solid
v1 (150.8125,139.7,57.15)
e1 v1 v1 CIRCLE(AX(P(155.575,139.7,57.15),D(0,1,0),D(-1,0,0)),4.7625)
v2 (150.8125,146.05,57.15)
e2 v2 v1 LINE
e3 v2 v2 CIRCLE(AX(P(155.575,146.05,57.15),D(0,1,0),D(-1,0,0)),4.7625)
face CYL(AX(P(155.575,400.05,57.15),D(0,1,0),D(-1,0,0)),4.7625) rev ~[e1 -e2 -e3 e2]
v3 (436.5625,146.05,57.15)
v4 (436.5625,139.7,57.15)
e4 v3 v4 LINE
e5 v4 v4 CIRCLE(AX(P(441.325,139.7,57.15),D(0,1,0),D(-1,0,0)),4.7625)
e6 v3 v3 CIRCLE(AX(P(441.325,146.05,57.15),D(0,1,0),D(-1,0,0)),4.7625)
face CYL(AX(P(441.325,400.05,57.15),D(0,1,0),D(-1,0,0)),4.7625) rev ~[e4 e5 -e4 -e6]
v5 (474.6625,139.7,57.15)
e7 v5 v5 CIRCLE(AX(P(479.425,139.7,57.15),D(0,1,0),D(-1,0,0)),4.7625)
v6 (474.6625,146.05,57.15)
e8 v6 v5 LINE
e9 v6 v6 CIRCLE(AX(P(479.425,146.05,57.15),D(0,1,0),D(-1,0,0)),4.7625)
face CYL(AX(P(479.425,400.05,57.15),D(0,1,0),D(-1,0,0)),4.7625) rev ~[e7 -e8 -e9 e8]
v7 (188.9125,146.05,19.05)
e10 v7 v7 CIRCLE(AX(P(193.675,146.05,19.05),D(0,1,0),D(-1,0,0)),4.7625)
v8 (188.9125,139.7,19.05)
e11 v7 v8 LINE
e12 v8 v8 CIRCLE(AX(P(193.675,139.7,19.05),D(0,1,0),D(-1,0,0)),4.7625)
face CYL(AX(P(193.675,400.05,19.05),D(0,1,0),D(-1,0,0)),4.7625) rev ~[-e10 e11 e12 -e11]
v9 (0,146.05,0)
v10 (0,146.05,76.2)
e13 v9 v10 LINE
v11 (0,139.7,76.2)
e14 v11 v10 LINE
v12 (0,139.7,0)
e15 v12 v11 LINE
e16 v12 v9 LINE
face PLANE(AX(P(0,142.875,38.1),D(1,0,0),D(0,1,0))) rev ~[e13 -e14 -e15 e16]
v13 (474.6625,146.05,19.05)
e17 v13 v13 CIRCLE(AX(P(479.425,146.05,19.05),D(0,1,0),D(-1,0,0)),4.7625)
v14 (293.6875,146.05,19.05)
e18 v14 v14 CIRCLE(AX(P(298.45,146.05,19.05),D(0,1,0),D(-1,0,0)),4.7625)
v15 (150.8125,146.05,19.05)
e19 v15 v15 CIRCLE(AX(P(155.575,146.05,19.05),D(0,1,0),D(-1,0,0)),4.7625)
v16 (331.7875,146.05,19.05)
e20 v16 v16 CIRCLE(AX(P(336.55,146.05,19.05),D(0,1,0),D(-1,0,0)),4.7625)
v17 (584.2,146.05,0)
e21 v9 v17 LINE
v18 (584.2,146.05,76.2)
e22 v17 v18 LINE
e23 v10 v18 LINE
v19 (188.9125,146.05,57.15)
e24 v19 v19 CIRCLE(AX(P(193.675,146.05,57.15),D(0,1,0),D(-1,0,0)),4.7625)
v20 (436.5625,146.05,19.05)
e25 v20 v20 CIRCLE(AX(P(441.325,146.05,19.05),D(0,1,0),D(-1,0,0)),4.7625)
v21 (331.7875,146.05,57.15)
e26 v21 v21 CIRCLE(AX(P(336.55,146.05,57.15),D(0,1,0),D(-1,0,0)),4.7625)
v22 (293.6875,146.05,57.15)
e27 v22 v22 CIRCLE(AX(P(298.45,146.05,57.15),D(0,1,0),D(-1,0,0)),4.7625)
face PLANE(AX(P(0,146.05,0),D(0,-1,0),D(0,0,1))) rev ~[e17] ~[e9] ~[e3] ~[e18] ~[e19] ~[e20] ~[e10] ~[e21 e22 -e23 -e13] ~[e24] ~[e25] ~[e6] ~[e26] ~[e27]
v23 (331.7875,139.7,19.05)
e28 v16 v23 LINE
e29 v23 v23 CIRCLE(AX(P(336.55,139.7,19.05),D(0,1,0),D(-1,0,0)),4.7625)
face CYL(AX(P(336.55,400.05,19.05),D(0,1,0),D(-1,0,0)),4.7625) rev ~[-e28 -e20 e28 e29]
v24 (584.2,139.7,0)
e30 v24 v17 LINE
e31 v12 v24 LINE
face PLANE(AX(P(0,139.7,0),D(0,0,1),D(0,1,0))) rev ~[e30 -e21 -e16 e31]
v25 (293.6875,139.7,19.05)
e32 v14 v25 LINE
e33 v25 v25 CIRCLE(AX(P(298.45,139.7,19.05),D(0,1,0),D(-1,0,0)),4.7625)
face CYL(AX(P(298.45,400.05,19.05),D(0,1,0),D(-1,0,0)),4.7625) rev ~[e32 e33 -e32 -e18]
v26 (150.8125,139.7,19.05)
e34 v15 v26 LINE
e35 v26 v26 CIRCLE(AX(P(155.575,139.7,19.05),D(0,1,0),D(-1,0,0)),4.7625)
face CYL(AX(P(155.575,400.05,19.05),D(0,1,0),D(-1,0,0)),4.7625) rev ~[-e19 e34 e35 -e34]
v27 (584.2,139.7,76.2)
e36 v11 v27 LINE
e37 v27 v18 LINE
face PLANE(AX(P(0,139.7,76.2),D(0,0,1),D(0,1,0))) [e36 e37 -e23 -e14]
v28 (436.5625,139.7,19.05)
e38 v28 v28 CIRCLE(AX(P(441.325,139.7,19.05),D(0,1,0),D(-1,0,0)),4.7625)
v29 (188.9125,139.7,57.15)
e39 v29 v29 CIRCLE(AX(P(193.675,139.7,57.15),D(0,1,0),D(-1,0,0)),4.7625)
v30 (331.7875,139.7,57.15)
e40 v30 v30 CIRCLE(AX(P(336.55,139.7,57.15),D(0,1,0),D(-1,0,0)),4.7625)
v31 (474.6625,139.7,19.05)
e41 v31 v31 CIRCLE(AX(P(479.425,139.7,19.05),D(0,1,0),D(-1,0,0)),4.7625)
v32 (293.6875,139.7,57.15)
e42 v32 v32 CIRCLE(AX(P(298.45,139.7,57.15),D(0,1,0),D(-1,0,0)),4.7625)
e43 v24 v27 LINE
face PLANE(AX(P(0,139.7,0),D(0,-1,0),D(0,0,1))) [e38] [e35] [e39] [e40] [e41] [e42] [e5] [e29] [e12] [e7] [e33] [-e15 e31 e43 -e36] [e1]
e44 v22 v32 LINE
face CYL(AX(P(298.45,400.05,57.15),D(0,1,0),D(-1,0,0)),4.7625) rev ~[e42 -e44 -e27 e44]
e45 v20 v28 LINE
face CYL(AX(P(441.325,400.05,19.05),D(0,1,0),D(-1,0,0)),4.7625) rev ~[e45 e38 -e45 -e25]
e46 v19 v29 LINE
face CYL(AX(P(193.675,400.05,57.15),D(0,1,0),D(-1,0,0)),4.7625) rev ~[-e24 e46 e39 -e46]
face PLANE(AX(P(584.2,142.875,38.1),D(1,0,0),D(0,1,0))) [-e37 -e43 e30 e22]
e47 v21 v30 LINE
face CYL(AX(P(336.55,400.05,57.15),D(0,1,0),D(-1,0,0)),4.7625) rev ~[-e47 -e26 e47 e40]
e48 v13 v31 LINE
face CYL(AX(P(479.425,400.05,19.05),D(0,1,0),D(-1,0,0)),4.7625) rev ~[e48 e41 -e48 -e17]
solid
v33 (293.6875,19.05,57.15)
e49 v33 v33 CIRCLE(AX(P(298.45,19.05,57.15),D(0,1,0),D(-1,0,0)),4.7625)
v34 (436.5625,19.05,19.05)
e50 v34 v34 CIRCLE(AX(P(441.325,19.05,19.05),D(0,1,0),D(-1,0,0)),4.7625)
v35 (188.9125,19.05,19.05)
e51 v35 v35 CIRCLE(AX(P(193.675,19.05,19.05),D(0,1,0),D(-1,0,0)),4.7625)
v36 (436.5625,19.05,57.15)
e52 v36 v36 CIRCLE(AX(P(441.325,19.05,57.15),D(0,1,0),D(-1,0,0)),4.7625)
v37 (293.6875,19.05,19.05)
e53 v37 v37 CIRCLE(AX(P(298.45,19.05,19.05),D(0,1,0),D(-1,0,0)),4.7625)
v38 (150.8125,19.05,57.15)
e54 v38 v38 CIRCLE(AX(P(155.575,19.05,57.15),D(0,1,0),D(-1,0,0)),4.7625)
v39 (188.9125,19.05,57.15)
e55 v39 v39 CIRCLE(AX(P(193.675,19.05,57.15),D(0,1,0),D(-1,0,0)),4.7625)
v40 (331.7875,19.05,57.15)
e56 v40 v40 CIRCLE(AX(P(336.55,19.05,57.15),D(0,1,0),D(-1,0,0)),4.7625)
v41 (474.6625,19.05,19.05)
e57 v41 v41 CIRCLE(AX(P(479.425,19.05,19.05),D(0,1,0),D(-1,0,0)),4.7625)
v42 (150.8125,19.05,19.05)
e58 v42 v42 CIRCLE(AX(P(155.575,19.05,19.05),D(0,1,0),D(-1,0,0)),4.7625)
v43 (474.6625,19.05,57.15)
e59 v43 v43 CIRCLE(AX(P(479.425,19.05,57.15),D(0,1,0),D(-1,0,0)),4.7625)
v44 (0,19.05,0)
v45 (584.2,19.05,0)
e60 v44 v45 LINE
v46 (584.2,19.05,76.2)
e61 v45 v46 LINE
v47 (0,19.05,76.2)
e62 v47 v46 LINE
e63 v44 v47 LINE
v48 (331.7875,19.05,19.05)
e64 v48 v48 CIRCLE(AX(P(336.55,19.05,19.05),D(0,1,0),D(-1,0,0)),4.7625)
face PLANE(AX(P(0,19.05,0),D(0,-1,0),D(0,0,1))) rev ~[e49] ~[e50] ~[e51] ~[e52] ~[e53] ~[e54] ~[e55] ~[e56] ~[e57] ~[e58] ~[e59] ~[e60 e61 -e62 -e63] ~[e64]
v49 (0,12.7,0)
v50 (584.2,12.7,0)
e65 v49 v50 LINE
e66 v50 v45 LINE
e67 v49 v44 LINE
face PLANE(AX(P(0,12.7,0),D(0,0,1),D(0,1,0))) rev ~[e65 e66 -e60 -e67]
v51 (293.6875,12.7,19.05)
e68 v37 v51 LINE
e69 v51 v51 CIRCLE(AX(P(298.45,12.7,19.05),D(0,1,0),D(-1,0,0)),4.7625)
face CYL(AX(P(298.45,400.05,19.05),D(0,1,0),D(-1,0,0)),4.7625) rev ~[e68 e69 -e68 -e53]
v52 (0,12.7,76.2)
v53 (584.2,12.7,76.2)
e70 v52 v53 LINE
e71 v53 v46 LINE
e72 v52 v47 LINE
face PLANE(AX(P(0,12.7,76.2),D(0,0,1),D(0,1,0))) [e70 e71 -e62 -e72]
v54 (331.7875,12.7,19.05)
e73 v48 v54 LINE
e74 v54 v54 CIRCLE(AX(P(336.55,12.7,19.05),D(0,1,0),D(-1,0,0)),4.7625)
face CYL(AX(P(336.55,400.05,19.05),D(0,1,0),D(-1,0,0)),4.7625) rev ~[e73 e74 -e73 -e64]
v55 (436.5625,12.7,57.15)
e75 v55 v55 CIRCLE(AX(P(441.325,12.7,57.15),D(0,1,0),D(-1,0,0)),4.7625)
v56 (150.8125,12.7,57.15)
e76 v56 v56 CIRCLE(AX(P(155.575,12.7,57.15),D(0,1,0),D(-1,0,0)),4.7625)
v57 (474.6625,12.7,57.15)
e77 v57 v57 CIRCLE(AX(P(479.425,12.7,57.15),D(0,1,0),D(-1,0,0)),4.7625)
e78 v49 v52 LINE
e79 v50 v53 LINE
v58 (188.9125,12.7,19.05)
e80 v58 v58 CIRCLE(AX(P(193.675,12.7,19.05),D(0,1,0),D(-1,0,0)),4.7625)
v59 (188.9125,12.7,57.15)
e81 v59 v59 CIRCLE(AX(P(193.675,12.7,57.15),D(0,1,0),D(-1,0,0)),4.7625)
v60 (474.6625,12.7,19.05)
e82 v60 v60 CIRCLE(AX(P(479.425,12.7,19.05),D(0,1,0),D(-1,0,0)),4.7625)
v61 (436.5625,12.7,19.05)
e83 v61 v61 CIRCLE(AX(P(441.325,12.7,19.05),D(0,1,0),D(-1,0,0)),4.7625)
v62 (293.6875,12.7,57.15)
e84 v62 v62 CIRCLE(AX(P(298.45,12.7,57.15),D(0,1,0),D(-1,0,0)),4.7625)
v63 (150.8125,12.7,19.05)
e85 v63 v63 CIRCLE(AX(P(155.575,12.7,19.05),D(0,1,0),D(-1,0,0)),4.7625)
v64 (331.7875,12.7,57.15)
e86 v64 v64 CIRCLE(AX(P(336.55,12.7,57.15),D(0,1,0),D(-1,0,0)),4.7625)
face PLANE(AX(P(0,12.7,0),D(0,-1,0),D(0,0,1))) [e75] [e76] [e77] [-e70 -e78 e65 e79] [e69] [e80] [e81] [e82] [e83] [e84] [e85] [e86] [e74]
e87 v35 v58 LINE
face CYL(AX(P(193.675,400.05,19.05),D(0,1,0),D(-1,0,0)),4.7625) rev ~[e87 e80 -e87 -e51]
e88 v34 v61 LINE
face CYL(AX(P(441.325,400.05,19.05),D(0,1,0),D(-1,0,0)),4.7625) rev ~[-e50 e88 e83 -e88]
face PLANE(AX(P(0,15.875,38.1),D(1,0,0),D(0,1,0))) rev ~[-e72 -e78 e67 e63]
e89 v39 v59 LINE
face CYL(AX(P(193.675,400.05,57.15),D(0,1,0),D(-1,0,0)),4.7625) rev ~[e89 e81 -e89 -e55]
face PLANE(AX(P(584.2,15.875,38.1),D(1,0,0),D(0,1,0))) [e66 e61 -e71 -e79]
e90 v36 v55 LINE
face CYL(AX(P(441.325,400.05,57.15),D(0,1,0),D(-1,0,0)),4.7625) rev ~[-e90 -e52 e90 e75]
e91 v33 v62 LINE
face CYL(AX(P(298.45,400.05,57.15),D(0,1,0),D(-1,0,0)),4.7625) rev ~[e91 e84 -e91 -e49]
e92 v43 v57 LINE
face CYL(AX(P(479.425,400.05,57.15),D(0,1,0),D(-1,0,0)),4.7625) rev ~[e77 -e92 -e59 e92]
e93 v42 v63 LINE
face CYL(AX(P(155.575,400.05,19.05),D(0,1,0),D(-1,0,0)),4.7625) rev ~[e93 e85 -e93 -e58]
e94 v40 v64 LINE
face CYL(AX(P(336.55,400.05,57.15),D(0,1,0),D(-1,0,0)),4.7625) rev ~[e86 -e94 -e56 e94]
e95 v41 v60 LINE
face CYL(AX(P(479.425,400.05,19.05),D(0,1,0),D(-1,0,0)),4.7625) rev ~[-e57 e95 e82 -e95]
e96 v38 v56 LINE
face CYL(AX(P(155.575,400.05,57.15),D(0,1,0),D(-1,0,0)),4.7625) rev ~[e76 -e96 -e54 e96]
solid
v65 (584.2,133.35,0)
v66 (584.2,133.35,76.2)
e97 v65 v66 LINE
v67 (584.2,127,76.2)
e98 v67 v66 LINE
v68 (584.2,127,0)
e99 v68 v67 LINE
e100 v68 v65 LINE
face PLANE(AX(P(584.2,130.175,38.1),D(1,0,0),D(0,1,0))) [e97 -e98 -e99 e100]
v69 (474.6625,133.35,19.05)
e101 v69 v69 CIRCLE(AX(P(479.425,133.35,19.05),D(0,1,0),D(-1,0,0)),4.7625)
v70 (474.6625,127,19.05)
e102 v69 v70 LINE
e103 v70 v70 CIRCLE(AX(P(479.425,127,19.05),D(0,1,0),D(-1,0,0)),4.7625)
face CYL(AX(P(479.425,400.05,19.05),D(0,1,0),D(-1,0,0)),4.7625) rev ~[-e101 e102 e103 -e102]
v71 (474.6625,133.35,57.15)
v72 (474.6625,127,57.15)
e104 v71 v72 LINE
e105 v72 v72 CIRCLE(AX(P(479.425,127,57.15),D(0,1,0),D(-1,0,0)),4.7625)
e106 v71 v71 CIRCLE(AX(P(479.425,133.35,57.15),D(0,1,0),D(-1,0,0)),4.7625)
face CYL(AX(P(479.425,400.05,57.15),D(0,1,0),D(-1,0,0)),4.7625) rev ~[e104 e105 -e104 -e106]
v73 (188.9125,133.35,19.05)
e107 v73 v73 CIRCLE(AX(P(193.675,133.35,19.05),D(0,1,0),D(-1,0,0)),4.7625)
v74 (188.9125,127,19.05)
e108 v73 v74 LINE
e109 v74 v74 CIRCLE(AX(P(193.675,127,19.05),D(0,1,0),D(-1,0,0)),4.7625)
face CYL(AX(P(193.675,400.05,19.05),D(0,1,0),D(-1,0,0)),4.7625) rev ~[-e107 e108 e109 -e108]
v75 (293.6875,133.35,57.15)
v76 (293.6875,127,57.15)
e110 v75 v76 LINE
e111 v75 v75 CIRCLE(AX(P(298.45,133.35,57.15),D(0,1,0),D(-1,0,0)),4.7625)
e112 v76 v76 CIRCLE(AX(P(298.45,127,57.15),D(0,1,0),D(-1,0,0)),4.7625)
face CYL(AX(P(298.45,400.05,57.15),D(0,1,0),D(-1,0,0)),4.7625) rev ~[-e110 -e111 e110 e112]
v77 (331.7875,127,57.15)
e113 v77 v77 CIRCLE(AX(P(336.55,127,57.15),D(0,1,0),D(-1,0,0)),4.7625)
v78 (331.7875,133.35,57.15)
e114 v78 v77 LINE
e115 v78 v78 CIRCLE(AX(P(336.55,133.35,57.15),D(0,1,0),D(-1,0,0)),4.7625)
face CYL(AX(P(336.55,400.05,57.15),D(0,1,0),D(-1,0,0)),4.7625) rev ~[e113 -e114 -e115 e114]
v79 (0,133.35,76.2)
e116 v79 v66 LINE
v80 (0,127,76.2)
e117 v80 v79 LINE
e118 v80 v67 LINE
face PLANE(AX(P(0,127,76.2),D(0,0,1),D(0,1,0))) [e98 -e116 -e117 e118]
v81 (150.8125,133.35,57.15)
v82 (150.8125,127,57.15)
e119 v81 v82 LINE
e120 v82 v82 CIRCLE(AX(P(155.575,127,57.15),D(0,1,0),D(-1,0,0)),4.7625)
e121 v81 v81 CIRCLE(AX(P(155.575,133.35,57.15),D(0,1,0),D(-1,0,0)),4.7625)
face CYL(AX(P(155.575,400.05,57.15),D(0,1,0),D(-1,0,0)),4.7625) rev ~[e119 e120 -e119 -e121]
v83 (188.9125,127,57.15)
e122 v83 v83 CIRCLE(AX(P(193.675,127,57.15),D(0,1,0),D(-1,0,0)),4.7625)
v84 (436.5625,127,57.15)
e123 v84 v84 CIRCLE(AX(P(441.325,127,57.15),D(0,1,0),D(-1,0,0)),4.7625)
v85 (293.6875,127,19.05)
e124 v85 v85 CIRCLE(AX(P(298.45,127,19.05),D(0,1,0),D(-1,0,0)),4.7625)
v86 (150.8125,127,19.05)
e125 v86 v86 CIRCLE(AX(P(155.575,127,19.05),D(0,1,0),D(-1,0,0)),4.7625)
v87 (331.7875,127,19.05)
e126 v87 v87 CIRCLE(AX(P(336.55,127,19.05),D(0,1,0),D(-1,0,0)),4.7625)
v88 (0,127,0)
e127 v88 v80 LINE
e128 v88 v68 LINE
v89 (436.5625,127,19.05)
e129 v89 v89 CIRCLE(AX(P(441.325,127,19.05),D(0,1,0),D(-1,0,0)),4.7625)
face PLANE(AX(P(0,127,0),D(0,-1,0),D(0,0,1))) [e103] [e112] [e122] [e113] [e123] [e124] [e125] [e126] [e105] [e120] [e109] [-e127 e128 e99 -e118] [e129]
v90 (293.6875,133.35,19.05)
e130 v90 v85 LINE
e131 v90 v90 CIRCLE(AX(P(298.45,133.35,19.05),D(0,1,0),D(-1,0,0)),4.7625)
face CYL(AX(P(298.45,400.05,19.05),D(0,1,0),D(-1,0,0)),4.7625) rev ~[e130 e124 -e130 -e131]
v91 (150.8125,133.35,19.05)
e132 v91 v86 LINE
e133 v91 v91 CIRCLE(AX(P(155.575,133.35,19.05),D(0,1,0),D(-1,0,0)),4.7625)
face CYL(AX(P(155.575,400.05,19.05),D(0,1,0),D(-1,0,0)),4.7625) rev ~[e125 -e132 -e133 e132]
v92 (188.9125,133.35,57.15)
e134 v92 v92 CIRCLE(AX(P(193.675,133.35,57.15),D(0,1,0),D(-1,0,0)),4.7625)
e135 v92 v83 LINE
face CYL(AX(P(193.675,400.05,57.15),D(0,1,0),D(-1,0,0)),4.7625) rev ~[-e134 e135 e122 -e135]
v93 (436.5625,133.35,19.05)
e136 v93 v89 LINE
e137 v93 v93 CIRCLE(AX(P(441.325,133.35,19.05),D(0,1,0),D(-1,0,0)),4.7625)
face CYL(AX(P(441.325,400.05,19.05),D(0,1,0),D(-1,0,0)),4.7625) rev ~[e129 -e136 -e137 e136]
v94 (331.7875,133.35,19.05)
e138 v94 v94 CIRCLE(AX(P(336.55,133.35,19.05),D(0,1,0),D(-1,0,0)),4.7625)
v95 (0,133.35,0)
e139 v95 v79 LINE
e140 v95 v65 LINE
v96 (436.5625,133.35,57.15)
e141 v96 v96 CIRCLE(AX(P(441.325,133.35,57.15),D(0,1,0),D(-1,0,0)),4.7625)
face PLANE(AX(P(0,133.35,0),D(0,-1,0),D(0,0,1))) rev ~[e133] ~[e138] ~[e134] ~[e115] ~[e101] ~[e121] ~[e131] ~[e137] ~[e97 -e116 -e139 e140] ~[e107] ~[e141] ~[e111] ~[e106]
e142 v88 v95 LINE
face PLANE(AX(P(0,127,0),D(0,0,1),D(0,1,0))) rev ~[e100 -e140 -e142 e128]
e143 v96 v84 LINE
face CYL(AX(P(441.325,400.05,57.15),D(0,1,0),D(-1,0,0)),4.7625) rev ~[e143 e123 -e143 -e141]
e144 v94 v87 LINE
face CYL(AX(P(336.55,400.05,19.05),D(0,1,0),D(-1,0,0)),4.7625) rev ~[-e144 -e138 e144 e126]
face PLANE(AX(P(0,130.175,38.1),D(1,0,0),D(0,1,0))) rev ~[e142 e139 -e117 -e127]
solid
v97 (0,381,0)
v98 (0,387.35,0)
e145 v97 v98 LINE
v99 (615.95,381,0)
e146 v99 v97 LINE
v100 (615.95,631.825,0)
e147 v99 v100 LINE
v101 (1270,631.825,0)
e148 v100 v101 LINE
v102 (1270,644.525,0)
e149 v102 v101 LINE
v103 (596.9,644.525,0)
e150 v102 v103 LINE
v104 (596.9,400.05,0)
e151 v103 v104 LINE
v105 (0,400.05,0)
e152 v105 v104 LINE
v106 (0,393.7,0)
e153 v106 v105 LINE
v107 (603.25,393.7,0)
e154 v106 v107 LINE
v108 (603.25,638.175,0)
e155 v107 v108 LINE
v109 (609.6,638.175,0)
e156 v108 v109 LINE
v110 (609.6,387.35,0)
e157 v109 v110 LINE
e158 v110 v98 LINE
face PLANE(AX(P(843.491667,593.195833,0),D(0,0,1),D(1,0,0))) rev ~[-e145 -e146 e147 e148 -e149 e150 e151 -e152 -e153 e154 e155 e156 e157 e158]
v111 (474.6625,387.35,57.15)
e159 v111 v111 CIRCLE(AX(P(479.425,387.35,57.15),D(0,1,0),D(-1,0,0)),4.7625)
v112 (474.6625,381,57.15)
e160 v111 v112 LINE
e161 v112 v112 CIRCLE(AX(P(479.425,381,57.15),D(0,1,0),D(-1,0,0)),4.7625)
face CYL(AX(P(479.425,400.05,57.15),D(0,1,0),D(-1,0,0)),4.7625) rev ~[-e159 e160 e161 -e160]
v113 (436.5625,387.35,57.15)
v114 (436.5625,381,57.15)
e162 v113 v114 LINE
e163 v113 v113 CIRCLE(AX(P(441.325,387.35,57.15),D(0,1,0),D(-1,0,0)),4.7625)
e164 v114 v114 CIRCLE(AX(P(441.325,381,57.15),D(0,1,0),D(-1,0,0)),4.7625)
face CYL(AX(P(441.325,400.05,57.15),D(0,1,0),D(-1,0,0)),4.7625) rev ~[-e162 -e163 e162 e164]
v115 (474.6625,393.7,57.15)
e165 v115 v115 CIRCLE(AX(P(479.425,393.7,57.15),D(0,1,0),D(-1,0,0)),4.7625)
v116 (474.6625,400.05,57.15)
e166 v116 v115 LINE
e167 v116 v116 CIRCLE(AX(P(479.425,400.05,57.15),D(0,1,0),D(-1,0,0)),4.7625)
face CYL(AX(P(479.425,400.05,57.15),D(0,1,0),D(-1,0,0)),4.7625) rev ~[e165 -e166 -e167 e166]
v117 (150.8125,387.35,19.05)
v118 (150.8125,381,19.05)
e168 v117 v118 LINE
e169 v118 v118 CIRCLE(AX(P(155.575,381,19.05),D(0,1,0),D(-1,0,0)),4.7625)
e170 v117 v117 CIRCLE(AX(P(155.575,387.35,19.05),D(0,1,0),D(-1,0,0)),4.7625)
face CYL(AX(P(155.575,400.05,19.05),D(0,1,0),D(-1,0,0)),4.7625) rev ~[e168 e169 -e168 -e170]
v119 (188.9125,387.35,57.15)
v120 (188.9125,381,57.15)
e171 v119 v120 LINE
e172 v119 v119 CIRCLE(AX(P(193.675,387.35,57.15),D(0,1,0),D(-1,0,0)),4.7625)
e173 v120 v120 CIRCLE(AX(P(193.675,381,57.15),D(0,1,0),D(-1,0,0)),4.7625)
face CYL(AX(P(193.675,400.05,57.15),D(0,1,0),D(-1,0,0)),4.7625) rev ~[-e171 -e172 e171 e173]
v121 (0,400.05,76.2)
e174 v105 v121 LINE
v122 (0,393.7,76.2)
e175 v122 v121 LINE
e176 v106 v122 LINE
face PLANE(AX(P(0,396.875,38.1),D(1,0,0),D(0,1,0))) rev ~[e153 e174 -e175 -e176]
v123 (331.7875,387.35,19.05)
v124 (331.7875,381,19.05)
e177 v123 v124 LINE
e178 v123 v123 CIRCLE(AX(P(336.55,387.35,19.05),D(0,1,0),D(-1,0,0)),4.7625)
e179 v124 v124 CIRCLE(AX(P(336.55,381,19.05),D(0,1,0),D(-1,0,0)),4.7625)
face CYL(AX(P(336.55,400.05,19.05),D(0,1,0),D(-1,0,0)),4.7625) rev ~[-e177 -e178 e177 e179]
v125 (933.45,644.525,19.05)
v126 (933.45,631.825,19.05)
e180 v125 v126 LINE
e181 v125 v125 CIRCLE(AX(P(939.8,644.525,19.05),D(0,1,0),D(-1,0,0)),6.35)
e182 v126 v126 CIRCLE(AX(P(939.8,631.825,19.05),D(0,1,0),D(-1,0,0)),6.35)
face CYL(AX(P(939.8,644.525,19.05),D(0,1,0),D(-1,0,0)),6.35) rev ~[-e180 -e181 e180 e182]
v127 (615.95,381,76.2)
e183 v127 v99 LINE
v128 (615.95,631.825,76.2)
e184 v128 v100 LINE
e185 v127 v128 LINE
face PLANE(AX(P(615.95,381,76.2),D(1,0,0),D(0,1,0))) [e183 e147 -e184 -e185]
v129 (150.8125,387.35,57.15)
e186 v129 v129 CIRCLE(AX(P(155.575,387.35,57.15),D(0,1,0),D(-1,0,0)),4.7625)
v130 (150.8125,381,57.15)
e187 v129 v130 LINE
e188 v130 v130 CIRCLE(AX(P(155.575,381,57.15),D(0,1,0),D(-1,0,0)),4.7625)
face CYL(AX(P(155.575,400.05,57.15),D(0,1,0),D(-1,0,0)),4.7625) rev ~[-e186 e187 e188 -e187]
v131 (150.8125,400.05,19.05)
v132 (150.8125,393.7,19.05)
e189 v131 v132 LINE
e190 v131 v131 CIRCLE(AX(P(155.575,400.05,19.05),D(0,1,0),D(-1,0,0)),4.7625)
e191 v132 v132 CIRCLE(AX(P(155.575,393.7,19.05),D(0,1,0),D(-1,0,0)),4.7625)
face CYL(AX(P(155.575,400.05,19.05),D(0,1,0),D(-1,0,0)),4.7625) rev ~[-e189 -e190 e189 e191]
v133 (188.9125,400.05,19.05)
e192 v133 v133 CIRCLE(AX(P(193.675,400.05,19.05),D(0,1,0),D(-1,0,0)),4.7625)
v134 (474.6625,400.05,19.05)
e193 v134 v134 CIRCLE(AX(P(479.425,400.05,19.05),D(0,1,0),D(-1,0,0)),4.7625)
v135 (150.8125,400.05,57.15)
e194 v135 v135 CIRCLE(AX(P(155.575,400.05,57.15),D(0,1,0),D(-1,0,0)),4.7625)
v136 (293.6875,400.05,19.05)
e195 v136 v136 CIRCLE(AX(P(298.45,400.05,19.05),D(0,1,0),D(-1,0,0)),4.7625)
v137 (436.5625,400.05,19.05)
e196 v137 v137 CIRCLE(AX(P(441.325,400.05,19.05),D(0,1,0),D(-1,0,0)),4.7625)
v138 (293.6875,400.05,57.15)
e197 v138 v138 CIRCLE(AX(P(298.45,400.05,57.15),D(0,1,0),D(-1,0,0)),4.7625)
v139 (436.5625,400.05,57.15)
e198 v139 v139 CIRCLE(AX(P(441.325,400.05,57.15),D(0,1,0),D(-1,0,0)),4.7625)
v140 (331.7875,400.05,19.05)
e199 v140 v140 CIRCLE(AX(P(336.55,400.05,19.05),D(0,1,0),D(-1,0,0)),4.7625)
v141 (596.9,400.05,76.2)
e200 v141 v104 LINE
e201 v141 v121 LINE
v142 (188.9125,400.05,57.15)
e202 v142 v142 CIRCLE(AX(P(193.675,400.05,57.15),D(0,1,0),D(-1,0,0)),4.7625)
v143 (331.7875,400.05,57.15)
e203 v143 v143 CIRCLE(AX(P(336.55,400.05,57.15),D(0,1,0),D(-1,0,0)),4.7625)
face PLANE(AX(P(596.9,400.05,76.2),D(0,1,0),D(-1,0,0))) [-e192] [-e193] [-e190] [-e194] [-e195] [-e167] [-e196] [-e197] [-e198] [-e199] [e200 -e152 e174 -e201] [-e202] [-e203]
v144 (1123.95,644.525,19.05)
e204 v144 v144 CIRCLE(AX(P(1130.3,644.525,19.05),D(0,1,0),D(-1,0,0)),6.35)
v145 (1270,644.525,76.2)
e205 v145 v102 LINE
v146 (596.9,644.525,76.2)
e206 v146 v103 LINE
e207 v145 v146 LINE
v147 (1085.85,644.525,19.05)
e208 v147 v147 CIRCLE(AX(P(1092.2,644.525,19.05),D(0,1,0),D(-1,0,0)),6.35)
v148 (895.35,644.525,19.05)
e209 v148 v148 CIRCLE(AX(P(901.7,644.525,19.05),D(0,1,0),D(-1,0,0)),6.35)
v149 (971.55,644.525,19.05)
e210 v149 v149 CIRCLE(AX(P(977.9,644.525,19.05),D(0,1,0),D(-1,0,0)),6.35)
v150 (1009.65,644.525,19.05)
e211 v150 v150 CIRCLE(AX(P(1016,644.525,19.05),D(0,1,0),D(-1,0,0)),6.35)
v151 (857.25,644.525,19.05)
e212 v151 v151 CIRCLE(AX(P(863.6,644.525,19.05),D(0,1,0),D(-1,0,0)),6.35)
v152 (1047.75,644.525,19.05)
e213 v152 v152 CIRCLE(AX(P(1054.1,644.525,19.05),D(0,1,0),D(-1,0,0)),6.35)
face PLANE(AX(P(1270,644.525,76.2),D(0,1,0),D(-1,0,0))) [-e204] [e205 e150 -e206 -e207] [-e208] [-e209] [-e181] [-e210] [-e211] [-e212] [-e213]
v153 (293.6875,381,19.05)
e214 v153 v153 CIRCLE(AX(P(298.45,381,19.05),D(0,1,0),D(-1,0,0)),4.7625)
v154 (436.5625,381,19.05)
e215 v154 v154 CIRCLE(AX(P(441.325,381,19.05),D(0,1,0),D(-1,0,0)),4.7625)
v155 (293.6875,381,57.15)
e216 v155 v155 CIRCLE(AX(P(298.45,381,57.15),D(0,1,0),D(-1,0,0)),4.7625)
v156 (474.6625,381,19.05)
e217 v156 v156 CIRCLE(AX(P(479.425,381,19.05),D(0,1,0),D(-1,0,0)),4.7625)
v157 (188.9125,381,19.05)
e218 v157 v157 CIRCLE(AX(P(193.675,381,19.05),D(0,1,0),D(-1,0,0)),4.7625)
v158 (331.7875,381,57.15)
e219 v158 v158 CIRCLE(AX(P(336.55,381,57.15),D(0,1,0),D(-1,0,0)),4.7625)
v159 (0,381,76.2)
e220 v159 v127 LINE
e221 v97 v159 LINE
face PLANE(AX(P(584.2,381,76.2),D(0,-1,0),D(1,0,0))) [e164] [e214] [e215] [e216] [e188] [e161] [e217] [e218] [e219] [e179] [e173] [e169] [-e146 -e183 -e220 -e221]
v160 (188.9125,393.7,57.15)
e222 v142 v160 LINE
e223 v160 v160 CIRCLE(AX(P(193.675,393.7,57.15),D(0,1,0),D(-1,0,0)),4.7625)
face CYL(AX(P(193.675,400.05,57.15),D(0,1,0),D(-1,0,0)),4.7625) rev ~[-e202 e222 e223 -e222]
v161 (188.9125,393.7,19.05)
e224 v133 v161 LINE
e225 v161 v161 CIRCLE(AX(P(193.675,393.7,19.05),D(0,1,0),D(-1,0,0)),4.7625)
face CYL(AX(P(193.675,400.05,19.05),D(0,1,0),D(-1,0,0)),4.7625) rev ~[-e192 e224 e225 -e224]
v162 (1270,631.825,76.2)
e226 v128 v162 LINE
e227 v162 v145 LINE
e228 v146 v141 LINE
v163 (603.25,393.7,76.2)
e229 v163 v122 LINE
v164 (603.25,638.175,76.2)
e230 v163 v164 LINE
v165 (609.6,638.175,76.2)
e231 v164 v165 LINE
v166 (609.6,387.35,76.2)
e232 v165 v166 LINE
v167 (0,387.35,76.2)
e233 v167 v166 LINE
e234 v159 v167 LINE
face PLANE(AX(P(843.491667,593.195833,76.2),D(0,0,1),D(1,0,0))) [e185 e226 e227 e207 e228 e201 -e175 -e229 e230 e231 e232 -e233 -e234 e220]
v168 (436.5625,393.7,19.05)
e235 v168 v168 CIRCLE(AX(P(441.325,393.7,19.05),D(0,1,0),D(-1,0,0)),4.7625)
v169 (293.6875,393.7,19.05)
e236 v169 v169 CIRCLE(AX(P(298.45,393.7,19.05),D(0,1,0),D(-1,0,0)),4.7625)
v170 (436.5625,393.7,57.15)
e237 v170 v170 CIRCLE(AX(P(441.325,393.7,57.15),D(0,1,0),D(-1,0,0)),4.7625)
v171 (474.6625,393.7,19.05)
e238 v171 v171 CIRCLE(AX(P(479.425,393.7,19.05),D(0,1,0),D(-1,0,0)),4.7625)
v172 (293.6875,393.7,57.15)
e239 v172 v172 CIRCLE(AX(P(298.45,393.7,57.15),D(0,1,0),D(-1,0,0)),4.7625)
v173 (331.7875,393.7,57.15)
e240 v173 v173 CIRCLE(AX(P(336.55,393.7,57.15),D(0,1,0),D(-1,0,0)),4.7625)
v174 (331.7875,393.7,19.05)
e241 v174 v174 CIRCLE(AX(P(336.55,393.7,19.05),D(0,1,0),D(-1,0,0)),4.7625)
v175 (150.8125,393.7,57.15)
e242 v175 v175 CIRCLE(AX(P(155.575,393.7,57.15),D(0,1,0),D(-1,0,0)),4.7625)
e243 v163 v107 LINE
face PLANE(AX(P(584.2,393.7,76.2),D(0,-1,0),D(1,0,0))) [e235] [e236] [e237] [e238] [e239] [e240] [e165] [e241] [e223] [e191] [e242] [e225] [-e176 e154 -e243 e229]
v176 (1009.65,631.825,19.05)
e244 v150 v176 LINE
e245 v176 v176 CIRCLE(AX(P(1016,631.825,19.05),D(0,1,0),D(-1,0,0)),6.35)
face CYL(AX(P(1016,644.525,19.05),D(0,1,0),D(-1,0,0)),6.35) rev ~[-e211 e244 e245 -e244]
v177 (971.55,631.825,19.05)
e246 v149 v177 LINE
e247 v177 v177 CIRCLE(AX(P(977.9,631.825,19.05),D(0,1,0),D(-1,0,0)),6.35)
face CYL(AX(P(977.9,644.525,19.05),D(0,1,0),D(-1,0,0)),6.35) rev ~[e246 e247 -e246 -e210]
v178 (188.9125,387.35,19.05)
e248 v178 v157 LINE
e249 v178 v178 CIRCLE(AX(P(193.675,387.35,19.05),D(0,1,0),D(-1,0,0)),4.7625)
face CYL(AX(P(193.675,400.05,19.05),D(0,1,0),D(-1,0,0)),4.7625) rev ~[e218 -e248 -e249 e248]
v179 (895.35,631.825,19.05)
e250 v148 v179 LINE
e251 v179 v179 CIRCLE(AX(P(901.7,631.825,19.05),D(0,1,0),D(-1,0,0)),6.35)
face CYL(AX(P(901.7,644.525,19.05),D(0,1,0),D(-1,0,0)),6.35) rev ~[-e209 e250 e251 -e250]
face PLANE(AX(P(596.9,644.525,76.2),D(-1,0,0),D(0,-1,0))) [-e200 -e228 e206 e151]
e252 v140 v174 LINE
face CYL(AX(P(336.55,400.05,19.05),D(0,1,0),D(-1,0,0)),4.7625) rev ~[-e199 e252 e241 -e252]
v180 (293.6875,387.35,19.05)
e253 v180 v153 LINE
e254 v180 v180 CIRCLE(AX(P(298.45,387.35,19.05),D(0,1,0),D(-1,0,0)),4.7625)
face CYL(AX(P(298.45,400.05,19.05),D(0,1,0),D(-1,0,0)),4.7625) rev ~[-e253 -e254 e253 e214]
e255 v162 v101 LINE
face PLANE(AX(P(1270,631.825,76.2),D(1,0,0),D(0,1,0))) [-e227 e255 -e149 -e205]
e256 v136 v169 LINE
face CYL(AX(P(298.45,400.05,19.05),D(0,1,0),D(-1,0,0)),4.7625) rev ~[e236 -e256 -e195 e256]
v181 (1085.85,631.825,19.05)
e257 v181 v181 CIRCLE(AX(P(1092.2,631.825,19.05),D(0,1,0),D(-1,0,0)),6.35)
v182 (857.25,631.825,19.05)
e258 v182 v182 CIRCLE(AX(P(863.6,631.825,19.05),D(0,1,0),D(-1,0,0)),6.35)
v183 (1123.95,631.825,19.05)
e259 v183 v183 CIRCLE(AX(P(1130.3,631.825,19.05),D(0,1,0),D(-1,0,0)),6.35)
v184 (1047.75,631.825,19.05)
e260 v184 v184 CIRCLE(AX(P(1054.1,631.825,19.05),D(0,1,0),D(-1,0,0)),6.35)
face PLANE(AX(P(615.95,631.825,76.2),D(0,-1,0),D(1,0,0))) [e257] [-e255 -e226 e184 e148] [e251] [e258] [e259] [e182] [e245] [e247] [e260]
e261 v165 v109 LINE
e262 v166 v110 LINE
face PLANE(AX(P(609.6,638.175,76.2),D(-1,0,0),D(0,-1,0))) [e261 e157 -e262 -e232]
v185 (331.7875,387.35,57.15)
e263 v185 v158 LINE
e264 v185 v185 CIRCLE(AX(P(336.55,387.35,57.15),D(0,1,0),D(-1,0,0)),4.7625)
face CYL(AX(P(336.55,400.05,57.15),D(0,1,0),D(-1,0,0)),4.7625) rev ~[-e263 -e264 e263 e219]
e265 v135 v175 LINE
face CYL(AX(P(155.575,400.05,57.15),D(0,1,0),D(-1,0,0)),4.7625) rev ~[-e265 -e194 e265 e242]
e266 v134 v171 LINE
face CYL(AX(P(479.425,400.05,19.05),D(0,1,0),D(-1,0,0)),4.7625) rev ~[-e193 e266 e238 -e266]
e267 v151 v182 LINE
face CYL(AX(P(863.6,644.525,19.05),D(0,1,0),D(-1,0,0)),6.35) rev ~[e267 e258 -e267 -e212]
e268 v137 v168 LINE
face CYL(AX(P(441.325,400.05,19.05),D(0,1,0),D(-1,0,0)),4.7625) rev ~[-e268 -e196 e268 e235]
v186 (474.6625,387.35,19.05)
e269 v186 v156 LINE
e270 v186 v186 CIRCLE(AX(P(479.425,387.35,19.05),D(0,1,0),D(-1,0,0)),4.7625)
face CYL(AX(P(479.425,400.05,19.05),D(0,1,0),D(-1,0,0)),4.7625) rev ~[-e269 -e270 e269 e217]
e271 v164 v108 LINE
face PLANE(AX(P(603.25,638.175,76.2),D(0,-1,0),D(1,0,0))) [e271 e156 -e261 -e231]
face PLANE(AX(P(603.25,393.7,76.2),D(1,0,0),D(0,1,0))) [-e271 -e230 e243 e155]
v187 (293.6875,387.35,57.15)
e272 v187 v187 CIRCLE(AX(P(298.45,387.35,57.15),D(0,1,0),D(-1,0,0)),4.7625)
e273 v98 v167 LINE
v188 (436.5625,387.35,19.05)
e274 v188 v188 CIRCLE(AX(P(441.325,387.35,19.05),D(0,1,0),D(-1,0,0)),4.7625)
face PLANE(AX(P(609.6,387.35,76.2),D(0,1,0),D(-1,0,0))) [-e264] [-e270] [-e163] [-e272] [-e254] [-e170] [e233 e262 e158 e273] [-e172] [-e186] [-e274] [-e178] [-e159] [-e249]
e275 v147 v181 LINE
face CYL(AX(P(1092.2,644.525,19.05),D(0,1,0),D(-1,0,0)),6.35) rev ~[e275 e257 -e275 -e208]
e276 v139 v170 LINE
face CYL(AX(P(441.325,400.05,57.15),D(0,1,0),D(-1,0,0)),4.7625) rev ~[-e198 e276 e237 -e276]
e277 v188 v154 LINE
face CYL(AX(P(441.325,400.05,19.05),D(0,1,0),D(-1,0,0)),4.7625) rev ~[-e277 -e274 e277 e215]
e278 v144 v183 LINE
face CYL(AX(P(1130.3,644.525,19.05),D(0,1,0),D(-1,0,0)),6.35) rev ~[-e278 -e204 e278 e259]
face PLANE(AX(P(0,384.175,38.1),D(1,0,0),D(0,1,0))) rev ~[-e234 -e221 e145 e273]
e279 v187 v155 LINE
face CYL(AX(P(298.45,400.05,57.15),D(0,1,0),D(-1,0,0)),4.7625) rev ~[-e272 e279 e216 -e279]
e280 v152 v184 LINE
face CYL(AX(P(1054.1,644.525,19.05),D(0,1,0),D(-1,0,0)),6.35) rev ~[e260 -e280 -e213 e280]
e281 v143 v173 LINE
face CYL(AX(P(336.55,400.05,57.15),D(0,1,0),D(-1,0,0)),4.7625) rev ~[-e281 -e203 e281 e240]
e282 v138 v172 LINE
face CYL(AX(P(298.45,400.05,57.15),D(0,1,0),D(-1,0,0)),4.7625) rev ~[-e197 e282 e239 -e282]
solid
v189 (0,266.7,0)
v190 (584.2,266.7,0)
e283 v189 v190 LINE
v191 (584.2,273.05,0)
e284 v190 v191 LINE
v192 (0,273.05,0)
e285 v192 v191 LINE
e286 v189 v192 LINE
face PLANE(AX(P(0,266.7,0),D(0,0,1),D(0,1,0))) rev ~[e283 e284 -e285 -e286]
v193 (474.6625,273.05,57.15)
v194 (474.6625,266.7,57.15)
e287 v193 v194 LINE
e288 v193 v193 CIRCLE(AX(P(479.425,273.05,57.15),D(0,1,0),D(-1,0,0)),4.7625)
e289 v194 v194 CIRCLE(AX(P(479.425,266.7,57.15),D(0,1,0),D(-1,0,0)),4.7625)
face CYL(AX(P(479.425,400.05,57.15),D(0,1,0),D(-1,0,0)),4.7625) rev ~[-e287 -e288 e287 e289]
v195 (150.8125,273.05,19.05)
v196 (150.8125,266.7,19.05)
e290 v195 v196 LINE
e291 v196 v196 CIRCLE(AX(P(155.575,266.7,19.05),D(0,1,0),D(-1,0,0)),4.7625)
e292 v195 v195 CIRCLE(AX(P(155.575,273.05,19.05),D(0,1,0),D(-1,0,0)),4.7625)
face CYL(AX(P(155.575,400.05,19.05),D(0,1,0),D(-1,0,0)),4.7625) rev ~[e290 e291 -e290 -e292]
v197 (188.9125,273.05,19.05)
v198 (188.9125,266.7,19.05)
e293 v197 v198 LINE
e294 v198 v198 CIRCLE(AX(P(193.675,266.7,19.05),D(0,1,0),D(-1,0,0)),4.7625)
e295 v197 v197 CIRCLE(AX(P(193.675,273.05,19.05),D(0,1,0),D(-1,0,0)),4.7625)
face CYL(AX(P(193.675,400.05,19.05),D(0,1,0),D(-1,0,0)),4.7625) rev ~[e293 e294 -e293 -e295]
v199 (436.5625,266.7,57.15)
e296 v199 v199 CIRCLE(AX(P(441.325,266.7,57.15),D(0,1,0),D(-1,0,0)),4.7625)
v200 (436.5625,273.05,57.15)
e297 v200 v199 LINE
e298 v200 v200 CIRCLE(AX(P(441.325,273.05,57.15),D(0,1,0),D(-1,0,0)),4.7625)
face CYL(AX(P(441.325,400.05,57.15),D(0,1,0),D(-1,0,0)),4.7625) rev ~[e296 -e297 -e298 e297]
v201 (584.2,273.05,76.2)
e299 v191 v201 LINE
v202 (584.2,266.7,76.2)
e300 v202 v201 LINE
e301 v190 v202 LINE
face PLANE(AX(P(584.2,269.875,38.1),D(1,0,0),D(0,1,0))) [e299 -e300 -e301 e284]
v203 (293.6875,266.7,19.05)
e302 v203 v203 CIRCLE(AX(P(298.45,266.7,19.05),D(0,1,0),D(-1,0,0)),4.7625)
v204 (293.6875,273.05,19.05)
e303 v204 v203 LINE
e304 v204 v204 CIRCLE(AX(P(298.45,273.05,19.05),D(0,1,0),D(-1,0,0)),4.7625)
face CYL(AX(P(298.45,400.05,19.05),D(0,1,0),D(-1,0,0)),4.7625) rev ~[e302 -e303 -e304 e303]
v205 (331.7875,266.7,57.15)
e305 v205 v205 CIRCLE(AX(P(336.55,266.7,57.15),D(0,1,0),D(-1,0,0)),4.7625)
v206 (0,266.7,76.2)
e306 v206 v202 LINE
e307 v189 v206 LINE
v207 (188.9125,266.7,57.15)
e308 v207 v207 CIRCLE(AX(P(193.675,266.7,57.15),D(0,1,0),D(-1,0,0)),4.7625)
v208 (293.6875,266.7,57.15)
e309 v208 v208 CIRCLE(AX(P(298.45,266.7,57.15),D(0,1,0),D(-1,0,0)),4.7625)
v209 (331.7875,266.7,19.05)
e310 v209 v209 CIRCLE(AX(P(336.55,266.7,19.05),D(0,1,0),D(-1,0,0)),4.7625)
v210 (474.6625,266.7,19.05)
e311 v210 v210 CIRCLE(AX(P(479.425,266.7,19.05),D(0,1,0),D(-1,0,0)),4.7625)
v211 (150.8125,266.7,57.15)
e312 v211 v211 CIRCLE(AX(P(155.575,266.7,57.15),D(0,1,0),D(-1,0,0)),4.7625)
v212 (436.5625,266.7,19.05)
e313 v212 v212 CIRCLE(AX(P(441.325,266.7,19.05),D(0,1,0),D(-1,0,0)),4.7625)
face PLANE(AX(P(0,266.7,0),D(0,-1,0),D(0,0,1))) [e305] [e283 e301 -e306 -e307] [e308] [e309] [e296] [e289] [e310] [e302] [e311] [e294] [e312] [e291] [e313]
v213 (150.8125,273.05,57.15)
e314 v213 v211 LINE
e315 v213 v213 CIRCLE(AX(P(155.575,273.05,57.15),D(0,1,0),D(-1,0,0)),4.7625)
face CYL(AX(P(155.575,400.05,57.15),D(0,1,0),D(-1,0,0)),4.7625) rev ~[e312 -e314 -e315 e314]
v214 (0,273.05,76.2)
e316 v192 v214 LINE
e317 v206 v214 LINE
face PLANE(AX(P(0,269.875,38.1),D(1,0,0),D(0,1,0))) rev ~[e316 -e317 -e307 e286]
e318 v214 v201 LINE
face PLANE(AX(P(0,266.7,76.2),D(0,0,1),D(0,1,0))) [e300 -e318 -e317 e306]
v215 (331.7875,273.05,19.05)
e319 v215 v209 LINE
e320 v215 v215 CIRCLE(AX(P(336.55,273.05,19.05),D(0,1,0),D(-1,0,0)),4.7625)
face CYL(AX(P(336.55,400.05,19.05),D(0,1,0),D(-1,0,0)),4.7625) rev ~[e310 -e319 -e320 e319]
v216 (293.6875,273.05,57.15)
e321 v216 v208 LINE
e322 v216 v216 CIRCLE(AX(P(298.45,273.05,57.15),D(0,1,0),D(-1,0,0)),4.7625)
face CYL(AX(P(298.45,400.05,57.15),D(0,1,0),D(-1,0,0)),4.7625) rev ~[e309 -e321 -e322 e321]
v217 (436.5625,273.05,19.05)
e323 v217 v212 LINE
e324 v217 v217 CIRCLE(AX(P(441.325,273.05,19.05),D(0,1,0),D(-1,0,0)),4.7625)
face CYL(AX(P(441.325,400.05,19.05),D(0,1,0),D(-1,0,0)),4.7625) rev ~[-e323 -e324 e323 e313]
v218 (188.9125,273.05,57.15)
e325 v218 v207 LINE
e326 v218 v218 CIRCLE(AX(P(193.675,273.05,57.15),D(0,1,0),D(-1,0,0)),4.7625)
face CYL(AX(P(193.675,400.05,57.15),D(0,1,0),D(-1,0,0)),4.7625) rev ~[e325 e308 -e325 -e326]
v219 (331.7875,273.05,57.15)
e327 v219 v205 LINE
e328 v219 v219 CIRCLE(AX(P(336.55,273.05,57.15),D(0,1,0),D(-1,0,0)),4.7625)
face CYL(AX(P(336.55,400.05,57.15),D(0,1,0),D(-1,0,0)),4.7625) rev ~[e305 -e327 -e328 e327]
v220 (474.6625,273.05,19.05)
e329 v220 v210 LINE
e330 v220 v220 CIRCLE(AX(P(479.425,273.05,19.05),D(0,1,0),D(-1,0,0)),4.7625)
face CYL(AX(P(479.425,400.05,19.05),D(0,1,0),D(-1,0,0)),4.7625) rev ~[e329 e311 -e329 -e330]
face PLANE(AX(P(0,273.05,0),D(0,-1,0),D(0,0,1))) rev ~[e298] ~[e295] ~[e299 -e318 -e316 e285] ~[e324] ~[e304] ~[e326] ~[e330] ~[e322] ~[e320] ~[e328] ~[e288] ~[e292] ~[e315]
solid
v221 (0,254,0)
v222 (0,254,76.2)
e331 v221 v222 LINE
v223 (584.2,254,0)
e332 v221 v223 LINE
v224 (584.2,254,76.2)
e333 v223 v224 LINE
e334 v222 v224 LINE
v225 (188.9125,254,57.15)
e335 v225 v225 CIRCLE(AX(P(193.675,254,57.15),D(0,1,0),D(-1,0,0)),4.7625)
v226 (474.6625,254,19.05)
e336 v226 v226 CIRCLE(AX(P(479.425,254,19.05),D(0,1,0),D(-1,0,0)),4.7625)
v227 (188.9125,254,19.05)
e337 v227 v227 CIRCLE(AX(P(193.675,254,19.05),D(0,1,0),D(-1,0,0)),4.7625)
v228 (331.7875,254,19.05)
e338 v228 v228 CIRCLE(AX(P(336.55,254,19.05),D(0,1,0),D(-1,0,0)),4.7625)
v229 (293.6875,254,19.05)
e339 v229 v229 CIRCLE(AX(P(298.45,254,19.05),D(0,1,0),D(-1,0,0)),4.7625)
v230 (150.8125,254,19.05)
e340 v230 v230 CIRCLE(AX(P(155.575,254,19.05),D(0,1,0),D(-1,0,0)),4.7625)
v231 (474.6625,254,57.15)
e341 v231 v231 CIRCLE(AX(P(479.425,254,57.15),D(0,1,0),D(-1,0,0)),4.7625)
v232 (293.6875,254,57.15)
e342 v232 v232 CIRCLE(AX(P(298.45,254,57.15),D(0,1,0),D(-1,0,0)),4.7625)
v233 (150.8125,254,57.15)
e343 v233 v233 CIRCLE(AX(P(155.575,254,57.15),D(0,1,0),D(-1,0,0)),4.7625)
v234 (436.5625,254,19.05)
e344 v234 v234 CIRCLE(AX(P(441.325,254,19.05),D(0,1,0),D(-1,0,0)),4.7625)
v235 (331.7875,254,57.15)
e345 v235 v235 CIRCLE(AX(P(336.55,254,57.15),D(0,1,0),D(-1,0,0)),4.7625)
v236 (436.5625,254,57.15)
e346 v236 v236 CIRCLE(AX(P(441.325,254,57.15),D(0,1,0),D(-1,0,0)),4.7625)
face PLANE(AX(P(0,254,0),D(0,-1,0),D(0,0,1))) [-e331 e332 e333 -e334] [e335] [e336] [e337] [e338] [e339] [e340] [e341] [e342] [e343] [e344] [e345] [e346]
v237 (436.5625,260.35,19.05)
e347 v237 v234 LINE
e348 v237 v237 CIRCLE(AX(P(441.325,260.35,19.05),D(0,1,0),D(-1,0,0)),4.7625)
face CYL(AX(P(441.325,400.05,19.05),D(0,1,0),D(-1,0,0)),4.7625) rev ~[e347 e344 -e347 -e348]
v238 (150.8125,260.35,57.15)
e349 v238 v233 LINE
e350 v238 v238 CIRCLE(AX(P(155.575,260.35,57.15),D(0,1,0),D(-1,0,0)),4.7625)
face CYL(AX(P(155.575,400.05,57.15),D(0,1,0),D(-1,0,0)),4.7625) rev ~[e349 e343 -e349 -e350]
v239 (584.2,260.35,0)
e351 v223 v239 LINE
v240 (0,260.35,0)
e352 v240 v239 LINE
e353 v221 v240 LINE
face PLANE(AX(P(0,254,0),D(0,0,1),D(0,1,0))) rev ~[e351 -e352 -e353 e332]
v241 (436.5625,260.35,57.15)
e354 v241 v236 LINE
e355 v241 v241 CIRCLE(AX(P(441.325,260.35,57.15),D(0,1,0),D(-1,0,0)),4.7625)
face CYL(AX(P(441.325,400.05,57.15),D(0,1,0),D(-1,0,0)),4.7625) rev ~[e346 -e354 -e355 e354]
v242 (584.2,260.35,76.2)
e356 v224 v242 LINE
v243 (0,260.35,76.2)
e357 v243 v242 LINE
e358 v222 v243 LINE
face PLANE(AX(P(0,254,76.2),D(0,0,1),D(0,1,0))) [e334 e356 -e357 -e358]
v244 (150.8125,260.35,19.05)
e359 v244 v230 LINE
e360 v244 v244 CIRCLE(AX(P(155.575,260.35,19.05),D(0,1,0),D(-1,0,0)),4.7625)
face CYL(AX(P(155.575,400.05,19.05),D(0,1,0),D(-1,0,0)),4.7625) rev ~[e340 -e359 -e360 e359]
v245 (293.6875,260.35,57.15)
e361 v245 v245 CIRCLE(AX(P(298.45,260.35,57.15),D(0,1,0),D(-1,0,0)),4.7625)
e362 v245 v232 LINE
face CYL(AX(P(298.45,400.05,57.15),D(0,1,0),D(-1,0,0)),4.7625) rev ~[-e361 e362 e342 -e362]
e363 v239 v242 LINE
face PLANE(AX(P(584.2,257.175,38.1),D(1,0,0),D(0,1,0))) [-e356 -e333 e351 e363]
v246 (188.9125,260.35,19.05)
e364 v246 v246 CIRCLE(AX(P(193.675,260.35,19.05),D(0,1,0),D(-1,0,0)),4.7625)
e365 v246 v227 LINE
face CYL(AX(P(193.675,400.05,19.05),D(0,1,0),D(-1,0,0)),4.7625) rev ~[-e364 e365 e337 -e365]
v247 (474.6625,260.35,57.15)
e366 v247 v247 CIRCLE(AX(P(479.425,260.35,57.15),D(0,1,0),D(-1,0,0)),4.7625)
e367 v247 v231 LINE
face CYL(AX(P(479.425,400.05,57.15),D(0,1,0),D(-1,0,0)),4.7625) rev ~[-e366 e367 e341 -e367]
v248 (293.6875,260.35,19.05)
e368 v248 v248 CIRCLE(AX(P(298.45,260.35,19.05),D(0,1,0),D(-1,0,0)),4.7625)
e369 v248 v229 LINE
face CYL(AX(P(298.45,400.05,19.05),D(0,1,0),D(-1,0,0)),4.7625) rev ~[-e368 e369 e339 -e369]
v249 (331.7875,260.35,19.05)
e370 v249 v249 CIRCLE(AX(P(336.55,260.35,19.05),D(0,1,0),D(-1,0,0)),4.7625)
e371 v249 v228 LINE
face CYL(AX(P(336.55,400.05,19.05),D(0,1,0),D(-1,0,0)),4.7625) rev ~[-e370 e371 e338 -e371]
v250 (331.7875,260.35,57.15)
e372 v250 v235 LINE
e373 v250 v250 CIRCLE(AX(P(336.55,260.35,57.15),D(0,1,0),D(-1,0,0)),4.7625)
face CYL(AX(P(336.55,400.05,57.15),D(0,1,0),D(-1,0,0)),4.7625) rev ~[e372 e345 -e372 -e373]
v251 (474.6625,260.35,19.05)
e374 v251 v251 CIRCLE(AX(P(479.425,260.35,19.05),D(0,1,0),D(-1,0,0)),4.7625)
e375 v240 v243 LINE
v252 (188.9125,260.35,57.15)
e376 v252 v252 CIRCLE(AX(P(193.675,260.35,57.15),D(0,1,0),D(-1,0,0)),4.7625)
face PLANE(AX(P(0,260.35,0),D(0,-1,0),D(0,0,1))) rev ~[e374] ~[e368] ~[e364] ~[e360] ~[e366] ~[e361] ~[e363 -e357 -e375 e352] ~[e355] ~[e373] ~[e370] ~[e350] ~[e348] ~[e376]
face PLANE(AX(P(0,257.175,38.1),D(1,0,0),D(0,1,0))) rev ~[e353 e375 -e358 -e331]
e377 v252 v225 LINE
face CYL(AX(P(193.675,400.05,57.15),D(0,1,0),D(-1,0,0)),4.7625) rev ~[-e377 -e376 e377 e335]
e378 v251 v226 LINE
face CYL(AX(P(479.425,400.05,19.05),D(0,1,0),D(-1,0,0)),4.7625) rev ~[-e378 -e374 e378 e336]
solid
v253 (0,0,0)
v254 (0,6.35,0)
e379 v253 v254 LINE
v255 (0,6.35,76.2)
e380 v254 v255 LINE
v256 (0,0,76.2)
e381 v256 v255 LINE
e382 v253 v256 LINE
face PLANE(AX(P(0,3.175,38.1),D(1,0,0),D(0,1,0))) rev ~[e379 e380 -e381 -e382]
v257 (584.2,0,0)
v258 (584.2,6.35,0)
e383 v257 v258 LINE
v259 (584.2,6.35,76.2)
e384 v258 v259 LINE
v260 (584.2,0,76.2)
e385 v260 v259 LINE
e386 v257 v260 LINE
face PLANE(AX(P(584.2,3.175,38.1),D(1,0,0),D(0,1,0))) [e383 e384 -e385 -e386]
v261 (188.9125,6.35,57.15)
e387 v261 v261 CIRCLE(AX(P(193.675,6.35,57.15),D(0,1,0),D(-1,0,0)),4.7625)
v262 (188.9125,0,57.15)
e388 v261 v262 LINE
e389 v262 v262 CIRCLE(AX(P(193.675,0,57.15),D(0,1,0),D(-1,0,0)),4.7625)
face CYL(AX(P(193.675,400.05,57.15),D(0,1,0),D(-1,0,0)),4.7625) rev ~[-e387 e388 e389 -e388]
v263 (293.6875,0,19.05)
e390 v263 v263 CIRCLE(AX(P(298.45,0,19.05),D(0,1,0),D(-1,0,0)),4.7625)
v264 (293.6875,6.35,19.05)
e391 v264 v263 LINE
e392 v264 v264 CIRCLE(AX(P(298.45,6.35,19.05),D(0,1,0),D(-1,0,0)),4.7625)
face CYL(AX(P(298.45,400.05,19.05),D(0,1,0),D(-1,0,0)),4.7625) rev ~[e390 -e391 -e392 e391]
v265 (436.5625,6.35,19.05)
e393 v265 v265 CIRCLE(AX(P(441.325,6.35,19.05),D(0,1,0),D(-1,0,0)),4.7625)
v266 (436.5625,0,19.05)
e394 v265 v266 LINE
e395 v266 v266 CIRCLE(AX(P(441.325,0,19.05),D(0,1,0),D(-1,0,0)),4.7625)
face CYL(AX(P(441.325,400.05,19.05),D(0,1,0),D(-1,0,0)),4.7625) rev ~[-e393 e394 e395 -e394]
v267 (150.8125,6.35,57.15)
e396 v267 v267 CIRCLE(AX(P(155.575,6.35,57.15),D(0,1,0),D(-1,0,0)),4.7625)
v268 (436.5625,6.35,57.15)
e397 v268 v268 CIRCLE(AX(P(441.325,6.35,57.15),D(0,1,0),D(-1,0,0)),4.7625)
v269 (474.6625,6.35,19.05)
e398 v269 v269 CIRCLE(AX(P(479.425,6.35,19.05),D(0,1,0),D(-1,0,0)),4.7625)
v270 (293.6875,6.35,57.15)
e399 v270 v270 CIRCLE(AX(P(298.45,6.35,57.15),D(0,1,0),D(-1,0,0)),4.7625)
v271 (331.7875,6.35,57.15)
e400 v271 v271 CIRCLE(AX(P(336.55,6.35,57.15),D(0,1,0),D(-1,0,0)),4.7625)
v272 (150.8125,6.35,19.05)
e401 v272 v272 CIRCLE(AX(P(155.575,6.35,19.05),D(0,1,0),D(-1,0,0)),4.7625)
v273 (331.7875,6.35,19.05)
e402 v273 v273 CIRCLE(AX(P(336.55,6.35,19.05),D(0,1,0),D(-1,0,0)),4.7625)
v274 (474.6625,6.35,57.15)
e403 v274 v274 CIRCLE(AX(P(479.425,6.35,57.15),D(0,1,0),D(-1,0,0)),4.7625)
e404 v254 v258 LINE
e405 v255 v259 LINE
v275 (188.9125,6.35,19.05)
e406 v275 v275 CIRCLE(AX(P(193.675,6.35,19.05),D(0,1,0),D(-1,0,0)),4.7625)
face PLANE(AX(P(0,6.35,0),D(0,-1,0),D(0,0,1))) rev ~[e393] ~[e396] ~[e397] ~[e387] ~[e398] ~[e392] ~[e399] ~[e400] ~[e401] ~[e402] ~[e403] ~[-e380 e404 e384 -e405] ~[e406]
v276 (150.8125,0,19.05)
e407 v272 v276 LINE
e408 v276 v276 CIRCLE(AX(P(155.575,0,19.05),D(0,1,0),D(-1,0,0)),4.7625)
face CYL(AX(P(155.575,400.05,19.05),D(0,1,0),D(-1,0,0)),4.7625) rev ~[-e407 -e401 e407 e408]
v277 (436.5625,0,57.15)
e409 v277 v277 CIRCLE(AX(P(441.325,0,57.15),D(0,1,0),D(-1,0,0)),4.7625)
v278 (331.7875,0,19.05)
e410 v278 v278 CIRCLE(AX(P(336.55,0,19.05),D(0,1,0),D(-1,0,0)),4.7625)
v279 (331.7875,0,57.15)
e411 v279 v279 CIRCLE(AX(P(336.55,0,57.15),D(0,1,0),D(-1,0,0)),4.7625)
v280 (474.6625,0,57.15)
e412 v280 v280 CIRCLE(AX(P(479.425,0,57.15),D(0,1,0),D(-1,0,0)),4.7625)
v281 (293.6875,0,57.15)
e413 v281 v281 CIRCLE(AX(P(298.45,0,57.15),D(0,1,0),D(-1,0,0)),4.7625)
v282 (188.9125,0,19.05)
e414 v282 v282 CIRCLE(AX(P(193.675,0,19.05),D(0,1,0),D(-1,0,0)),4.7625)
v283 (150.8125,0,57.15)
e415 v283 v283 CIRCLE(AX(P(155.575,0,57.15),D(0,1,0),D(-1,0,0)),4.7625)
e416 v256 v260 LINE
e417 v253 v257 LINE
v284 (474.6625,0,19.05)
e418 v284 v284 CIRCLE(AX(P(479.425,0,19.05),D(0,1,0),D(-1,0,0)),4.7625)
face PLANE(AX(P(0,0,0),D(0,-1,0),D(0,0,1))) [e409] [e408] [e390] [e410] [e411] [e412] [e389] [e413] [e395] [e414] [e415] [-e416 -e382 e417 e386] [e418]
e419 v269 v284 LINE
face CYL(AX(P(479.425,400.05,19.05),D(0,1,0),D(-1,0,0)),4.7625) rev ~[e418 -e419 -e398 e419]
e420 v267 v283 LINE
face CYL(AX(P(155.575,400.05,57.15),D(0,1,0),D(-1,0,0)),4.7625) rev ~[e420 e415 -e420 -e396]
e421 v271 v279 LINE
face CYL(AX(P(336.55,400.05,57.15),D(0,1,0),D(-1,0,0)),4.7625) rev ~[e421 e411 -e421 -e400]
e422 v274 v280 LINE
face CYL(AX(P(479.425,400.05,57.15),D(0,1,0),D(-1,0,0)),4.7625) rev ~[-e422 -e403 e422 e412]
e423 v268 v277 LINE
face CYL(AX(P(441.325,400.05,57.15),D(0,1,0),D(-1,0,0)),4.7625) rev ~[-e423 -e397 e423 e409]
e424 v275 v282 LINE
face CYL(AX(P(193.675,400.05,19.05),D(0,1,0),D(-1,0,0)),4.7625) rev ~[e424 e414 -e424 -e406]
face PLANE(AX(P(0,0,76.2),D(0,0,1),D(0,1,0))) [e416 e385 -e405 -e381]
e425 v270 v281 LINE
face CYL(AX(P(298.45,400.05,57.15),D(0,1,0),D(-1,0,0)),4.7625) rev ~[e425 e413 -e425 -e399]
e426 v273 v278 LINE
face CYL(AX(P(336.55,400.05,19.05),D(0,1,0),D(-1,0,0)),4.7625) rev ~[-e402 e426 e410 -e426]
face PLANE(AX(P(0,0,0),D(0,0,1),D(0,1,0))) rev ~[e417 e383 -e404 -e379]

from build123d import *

# Parameters (mm, degrees)
F0_W     = 6.35
F0_H     = 76.2
F1_DEPTH = 584.2
F3_DEPTH = 76.2
F5_DEPTH = 76.2
F6_R     = 6.35
F7_DEPTH = 644.526
F8_R     = 4.7625
F9_DEPTH = 400.051


with BuildPart() as f1:
    # F0 (on Right) → F1 (new body)
    with BuildSketch(Plane.YZ):
        with Locations((3.175, 38.1)):
            Rectangle(F0_W, F0_H)
        with Locations((15.875, 38.1)):
            Rectangle(F0_W, F0_H)
        with Locations((130.175, 38.1)):
            Rectangle(F0_W, F0_H)
        with Locations((142.875, 38.1)):
            Rectangle(F0_W, F0_H)
        with Locations((257.175, 38.1)):
            Rectangle(F0_W, F0_H)
        with Locations((269.875, 38.1)):
            Rectangle(F0_W, F0_H)
        with Locations((384.175, 38.1)):
            Rectangle(F0_W, F0_H)
        with Locations((396.875, 38.1)):
            Rectangle(F0_W, F0_H)
    extrude(amount=F1_DEPTH)

    # F2 (on face) → F3 (join)
    with BuildSketch(Plane.XY.offset(76.2)):
        Polygon((584.2, 400.05), (584.2, 393.7), (603.25, 393.7), (603.25, 638.175), (1270, 638.175), (1270, 644.525), (596.9, 644.525), (596.9, 400.05), align=None)
    extrude(amount=-F3_DEPTH)

    # F4 (on face) → F5 (join)
    with BuildSketch(Plane.XY.offset(76.2)):
        Polygon((609.6, 387.35), (584.2, 387.35), (584.2, 381), (615.95, 381), (615.95, 631.825), (1270, 631.825), (1270, 638.175), (609.6, 638.175), align=None)
    extrude(amount=-F5_DEPTH)

    # F6 (on face) → F7 (cut, through all)
    with BuildSketch(Plane(origin=(0, 644.525, 0), x_dir=(-1, 0, 0), z_dir=(0, 1, 0))):
        with Locations((-1130.3, 19.05)):
            Circle(F6_R)
        with Locations((-1092.2, 19.05)):
            Circle(F6_R)
        with Locations((-1054.1, 19.05)):
            Circle(F6_R)
        with Locations((-1016, 19.05)):
            Circle(F6_R)
        with Locations((-977.9, 19.05)):
            Circle(F6_R)
        with Locations((-939.8, 19.05)):
            Circle(F6_R)
        with Locations((-901.7, 19.05)):
            Circle(F6_R)
        with Locations((-863.6, 19.05)):
            Circle(F6_R)
    extrude(amount=-F7_DEPTH, mode=Mode.SUBTRACT)

    # F8 (on face) → F9 (cut, through all)
    with BuildSketch(Plane(origin=(0, 400.05, 0), x_dir=(-1, 0, 0), z_dir=(0, 1, 0))):
        with Locations((-298.45, 57.15)):
            Circle(F8_R)
        with Locations((-298.45, 19.05)):
            Circle(F8_R)
        with Locations((-336.55, 19.05)):
            Circle(F8_R)
        with Locations((-336.55, 57.15)):
            Circle(F8_R)
        with Locations((-155.575, 57.15)):
            Circle(F8_R)
        with Locations((-155.575, 19.05)):
            Circle(F8_R)
        with Locations((-193.675, 19.05)):
            Circle(F8_R)
        with Locations((-193.675, 57.15)):
            Circle(F8_R)
        with Locations((-441.325, 57.15)):
            Circle(F8_R)
        with Locations((-441.325, 19.05)):
            Circle(F8_R)
        with Locations((-479.425, 19.05)):
            Circle(F8_R)
        with Locations((-479.425, 57.15)):
            Circle(F8_R)
    extrude(amount=-F9_DEPTH, mode=Mode.SUBTRACT)


solid = f1.part
